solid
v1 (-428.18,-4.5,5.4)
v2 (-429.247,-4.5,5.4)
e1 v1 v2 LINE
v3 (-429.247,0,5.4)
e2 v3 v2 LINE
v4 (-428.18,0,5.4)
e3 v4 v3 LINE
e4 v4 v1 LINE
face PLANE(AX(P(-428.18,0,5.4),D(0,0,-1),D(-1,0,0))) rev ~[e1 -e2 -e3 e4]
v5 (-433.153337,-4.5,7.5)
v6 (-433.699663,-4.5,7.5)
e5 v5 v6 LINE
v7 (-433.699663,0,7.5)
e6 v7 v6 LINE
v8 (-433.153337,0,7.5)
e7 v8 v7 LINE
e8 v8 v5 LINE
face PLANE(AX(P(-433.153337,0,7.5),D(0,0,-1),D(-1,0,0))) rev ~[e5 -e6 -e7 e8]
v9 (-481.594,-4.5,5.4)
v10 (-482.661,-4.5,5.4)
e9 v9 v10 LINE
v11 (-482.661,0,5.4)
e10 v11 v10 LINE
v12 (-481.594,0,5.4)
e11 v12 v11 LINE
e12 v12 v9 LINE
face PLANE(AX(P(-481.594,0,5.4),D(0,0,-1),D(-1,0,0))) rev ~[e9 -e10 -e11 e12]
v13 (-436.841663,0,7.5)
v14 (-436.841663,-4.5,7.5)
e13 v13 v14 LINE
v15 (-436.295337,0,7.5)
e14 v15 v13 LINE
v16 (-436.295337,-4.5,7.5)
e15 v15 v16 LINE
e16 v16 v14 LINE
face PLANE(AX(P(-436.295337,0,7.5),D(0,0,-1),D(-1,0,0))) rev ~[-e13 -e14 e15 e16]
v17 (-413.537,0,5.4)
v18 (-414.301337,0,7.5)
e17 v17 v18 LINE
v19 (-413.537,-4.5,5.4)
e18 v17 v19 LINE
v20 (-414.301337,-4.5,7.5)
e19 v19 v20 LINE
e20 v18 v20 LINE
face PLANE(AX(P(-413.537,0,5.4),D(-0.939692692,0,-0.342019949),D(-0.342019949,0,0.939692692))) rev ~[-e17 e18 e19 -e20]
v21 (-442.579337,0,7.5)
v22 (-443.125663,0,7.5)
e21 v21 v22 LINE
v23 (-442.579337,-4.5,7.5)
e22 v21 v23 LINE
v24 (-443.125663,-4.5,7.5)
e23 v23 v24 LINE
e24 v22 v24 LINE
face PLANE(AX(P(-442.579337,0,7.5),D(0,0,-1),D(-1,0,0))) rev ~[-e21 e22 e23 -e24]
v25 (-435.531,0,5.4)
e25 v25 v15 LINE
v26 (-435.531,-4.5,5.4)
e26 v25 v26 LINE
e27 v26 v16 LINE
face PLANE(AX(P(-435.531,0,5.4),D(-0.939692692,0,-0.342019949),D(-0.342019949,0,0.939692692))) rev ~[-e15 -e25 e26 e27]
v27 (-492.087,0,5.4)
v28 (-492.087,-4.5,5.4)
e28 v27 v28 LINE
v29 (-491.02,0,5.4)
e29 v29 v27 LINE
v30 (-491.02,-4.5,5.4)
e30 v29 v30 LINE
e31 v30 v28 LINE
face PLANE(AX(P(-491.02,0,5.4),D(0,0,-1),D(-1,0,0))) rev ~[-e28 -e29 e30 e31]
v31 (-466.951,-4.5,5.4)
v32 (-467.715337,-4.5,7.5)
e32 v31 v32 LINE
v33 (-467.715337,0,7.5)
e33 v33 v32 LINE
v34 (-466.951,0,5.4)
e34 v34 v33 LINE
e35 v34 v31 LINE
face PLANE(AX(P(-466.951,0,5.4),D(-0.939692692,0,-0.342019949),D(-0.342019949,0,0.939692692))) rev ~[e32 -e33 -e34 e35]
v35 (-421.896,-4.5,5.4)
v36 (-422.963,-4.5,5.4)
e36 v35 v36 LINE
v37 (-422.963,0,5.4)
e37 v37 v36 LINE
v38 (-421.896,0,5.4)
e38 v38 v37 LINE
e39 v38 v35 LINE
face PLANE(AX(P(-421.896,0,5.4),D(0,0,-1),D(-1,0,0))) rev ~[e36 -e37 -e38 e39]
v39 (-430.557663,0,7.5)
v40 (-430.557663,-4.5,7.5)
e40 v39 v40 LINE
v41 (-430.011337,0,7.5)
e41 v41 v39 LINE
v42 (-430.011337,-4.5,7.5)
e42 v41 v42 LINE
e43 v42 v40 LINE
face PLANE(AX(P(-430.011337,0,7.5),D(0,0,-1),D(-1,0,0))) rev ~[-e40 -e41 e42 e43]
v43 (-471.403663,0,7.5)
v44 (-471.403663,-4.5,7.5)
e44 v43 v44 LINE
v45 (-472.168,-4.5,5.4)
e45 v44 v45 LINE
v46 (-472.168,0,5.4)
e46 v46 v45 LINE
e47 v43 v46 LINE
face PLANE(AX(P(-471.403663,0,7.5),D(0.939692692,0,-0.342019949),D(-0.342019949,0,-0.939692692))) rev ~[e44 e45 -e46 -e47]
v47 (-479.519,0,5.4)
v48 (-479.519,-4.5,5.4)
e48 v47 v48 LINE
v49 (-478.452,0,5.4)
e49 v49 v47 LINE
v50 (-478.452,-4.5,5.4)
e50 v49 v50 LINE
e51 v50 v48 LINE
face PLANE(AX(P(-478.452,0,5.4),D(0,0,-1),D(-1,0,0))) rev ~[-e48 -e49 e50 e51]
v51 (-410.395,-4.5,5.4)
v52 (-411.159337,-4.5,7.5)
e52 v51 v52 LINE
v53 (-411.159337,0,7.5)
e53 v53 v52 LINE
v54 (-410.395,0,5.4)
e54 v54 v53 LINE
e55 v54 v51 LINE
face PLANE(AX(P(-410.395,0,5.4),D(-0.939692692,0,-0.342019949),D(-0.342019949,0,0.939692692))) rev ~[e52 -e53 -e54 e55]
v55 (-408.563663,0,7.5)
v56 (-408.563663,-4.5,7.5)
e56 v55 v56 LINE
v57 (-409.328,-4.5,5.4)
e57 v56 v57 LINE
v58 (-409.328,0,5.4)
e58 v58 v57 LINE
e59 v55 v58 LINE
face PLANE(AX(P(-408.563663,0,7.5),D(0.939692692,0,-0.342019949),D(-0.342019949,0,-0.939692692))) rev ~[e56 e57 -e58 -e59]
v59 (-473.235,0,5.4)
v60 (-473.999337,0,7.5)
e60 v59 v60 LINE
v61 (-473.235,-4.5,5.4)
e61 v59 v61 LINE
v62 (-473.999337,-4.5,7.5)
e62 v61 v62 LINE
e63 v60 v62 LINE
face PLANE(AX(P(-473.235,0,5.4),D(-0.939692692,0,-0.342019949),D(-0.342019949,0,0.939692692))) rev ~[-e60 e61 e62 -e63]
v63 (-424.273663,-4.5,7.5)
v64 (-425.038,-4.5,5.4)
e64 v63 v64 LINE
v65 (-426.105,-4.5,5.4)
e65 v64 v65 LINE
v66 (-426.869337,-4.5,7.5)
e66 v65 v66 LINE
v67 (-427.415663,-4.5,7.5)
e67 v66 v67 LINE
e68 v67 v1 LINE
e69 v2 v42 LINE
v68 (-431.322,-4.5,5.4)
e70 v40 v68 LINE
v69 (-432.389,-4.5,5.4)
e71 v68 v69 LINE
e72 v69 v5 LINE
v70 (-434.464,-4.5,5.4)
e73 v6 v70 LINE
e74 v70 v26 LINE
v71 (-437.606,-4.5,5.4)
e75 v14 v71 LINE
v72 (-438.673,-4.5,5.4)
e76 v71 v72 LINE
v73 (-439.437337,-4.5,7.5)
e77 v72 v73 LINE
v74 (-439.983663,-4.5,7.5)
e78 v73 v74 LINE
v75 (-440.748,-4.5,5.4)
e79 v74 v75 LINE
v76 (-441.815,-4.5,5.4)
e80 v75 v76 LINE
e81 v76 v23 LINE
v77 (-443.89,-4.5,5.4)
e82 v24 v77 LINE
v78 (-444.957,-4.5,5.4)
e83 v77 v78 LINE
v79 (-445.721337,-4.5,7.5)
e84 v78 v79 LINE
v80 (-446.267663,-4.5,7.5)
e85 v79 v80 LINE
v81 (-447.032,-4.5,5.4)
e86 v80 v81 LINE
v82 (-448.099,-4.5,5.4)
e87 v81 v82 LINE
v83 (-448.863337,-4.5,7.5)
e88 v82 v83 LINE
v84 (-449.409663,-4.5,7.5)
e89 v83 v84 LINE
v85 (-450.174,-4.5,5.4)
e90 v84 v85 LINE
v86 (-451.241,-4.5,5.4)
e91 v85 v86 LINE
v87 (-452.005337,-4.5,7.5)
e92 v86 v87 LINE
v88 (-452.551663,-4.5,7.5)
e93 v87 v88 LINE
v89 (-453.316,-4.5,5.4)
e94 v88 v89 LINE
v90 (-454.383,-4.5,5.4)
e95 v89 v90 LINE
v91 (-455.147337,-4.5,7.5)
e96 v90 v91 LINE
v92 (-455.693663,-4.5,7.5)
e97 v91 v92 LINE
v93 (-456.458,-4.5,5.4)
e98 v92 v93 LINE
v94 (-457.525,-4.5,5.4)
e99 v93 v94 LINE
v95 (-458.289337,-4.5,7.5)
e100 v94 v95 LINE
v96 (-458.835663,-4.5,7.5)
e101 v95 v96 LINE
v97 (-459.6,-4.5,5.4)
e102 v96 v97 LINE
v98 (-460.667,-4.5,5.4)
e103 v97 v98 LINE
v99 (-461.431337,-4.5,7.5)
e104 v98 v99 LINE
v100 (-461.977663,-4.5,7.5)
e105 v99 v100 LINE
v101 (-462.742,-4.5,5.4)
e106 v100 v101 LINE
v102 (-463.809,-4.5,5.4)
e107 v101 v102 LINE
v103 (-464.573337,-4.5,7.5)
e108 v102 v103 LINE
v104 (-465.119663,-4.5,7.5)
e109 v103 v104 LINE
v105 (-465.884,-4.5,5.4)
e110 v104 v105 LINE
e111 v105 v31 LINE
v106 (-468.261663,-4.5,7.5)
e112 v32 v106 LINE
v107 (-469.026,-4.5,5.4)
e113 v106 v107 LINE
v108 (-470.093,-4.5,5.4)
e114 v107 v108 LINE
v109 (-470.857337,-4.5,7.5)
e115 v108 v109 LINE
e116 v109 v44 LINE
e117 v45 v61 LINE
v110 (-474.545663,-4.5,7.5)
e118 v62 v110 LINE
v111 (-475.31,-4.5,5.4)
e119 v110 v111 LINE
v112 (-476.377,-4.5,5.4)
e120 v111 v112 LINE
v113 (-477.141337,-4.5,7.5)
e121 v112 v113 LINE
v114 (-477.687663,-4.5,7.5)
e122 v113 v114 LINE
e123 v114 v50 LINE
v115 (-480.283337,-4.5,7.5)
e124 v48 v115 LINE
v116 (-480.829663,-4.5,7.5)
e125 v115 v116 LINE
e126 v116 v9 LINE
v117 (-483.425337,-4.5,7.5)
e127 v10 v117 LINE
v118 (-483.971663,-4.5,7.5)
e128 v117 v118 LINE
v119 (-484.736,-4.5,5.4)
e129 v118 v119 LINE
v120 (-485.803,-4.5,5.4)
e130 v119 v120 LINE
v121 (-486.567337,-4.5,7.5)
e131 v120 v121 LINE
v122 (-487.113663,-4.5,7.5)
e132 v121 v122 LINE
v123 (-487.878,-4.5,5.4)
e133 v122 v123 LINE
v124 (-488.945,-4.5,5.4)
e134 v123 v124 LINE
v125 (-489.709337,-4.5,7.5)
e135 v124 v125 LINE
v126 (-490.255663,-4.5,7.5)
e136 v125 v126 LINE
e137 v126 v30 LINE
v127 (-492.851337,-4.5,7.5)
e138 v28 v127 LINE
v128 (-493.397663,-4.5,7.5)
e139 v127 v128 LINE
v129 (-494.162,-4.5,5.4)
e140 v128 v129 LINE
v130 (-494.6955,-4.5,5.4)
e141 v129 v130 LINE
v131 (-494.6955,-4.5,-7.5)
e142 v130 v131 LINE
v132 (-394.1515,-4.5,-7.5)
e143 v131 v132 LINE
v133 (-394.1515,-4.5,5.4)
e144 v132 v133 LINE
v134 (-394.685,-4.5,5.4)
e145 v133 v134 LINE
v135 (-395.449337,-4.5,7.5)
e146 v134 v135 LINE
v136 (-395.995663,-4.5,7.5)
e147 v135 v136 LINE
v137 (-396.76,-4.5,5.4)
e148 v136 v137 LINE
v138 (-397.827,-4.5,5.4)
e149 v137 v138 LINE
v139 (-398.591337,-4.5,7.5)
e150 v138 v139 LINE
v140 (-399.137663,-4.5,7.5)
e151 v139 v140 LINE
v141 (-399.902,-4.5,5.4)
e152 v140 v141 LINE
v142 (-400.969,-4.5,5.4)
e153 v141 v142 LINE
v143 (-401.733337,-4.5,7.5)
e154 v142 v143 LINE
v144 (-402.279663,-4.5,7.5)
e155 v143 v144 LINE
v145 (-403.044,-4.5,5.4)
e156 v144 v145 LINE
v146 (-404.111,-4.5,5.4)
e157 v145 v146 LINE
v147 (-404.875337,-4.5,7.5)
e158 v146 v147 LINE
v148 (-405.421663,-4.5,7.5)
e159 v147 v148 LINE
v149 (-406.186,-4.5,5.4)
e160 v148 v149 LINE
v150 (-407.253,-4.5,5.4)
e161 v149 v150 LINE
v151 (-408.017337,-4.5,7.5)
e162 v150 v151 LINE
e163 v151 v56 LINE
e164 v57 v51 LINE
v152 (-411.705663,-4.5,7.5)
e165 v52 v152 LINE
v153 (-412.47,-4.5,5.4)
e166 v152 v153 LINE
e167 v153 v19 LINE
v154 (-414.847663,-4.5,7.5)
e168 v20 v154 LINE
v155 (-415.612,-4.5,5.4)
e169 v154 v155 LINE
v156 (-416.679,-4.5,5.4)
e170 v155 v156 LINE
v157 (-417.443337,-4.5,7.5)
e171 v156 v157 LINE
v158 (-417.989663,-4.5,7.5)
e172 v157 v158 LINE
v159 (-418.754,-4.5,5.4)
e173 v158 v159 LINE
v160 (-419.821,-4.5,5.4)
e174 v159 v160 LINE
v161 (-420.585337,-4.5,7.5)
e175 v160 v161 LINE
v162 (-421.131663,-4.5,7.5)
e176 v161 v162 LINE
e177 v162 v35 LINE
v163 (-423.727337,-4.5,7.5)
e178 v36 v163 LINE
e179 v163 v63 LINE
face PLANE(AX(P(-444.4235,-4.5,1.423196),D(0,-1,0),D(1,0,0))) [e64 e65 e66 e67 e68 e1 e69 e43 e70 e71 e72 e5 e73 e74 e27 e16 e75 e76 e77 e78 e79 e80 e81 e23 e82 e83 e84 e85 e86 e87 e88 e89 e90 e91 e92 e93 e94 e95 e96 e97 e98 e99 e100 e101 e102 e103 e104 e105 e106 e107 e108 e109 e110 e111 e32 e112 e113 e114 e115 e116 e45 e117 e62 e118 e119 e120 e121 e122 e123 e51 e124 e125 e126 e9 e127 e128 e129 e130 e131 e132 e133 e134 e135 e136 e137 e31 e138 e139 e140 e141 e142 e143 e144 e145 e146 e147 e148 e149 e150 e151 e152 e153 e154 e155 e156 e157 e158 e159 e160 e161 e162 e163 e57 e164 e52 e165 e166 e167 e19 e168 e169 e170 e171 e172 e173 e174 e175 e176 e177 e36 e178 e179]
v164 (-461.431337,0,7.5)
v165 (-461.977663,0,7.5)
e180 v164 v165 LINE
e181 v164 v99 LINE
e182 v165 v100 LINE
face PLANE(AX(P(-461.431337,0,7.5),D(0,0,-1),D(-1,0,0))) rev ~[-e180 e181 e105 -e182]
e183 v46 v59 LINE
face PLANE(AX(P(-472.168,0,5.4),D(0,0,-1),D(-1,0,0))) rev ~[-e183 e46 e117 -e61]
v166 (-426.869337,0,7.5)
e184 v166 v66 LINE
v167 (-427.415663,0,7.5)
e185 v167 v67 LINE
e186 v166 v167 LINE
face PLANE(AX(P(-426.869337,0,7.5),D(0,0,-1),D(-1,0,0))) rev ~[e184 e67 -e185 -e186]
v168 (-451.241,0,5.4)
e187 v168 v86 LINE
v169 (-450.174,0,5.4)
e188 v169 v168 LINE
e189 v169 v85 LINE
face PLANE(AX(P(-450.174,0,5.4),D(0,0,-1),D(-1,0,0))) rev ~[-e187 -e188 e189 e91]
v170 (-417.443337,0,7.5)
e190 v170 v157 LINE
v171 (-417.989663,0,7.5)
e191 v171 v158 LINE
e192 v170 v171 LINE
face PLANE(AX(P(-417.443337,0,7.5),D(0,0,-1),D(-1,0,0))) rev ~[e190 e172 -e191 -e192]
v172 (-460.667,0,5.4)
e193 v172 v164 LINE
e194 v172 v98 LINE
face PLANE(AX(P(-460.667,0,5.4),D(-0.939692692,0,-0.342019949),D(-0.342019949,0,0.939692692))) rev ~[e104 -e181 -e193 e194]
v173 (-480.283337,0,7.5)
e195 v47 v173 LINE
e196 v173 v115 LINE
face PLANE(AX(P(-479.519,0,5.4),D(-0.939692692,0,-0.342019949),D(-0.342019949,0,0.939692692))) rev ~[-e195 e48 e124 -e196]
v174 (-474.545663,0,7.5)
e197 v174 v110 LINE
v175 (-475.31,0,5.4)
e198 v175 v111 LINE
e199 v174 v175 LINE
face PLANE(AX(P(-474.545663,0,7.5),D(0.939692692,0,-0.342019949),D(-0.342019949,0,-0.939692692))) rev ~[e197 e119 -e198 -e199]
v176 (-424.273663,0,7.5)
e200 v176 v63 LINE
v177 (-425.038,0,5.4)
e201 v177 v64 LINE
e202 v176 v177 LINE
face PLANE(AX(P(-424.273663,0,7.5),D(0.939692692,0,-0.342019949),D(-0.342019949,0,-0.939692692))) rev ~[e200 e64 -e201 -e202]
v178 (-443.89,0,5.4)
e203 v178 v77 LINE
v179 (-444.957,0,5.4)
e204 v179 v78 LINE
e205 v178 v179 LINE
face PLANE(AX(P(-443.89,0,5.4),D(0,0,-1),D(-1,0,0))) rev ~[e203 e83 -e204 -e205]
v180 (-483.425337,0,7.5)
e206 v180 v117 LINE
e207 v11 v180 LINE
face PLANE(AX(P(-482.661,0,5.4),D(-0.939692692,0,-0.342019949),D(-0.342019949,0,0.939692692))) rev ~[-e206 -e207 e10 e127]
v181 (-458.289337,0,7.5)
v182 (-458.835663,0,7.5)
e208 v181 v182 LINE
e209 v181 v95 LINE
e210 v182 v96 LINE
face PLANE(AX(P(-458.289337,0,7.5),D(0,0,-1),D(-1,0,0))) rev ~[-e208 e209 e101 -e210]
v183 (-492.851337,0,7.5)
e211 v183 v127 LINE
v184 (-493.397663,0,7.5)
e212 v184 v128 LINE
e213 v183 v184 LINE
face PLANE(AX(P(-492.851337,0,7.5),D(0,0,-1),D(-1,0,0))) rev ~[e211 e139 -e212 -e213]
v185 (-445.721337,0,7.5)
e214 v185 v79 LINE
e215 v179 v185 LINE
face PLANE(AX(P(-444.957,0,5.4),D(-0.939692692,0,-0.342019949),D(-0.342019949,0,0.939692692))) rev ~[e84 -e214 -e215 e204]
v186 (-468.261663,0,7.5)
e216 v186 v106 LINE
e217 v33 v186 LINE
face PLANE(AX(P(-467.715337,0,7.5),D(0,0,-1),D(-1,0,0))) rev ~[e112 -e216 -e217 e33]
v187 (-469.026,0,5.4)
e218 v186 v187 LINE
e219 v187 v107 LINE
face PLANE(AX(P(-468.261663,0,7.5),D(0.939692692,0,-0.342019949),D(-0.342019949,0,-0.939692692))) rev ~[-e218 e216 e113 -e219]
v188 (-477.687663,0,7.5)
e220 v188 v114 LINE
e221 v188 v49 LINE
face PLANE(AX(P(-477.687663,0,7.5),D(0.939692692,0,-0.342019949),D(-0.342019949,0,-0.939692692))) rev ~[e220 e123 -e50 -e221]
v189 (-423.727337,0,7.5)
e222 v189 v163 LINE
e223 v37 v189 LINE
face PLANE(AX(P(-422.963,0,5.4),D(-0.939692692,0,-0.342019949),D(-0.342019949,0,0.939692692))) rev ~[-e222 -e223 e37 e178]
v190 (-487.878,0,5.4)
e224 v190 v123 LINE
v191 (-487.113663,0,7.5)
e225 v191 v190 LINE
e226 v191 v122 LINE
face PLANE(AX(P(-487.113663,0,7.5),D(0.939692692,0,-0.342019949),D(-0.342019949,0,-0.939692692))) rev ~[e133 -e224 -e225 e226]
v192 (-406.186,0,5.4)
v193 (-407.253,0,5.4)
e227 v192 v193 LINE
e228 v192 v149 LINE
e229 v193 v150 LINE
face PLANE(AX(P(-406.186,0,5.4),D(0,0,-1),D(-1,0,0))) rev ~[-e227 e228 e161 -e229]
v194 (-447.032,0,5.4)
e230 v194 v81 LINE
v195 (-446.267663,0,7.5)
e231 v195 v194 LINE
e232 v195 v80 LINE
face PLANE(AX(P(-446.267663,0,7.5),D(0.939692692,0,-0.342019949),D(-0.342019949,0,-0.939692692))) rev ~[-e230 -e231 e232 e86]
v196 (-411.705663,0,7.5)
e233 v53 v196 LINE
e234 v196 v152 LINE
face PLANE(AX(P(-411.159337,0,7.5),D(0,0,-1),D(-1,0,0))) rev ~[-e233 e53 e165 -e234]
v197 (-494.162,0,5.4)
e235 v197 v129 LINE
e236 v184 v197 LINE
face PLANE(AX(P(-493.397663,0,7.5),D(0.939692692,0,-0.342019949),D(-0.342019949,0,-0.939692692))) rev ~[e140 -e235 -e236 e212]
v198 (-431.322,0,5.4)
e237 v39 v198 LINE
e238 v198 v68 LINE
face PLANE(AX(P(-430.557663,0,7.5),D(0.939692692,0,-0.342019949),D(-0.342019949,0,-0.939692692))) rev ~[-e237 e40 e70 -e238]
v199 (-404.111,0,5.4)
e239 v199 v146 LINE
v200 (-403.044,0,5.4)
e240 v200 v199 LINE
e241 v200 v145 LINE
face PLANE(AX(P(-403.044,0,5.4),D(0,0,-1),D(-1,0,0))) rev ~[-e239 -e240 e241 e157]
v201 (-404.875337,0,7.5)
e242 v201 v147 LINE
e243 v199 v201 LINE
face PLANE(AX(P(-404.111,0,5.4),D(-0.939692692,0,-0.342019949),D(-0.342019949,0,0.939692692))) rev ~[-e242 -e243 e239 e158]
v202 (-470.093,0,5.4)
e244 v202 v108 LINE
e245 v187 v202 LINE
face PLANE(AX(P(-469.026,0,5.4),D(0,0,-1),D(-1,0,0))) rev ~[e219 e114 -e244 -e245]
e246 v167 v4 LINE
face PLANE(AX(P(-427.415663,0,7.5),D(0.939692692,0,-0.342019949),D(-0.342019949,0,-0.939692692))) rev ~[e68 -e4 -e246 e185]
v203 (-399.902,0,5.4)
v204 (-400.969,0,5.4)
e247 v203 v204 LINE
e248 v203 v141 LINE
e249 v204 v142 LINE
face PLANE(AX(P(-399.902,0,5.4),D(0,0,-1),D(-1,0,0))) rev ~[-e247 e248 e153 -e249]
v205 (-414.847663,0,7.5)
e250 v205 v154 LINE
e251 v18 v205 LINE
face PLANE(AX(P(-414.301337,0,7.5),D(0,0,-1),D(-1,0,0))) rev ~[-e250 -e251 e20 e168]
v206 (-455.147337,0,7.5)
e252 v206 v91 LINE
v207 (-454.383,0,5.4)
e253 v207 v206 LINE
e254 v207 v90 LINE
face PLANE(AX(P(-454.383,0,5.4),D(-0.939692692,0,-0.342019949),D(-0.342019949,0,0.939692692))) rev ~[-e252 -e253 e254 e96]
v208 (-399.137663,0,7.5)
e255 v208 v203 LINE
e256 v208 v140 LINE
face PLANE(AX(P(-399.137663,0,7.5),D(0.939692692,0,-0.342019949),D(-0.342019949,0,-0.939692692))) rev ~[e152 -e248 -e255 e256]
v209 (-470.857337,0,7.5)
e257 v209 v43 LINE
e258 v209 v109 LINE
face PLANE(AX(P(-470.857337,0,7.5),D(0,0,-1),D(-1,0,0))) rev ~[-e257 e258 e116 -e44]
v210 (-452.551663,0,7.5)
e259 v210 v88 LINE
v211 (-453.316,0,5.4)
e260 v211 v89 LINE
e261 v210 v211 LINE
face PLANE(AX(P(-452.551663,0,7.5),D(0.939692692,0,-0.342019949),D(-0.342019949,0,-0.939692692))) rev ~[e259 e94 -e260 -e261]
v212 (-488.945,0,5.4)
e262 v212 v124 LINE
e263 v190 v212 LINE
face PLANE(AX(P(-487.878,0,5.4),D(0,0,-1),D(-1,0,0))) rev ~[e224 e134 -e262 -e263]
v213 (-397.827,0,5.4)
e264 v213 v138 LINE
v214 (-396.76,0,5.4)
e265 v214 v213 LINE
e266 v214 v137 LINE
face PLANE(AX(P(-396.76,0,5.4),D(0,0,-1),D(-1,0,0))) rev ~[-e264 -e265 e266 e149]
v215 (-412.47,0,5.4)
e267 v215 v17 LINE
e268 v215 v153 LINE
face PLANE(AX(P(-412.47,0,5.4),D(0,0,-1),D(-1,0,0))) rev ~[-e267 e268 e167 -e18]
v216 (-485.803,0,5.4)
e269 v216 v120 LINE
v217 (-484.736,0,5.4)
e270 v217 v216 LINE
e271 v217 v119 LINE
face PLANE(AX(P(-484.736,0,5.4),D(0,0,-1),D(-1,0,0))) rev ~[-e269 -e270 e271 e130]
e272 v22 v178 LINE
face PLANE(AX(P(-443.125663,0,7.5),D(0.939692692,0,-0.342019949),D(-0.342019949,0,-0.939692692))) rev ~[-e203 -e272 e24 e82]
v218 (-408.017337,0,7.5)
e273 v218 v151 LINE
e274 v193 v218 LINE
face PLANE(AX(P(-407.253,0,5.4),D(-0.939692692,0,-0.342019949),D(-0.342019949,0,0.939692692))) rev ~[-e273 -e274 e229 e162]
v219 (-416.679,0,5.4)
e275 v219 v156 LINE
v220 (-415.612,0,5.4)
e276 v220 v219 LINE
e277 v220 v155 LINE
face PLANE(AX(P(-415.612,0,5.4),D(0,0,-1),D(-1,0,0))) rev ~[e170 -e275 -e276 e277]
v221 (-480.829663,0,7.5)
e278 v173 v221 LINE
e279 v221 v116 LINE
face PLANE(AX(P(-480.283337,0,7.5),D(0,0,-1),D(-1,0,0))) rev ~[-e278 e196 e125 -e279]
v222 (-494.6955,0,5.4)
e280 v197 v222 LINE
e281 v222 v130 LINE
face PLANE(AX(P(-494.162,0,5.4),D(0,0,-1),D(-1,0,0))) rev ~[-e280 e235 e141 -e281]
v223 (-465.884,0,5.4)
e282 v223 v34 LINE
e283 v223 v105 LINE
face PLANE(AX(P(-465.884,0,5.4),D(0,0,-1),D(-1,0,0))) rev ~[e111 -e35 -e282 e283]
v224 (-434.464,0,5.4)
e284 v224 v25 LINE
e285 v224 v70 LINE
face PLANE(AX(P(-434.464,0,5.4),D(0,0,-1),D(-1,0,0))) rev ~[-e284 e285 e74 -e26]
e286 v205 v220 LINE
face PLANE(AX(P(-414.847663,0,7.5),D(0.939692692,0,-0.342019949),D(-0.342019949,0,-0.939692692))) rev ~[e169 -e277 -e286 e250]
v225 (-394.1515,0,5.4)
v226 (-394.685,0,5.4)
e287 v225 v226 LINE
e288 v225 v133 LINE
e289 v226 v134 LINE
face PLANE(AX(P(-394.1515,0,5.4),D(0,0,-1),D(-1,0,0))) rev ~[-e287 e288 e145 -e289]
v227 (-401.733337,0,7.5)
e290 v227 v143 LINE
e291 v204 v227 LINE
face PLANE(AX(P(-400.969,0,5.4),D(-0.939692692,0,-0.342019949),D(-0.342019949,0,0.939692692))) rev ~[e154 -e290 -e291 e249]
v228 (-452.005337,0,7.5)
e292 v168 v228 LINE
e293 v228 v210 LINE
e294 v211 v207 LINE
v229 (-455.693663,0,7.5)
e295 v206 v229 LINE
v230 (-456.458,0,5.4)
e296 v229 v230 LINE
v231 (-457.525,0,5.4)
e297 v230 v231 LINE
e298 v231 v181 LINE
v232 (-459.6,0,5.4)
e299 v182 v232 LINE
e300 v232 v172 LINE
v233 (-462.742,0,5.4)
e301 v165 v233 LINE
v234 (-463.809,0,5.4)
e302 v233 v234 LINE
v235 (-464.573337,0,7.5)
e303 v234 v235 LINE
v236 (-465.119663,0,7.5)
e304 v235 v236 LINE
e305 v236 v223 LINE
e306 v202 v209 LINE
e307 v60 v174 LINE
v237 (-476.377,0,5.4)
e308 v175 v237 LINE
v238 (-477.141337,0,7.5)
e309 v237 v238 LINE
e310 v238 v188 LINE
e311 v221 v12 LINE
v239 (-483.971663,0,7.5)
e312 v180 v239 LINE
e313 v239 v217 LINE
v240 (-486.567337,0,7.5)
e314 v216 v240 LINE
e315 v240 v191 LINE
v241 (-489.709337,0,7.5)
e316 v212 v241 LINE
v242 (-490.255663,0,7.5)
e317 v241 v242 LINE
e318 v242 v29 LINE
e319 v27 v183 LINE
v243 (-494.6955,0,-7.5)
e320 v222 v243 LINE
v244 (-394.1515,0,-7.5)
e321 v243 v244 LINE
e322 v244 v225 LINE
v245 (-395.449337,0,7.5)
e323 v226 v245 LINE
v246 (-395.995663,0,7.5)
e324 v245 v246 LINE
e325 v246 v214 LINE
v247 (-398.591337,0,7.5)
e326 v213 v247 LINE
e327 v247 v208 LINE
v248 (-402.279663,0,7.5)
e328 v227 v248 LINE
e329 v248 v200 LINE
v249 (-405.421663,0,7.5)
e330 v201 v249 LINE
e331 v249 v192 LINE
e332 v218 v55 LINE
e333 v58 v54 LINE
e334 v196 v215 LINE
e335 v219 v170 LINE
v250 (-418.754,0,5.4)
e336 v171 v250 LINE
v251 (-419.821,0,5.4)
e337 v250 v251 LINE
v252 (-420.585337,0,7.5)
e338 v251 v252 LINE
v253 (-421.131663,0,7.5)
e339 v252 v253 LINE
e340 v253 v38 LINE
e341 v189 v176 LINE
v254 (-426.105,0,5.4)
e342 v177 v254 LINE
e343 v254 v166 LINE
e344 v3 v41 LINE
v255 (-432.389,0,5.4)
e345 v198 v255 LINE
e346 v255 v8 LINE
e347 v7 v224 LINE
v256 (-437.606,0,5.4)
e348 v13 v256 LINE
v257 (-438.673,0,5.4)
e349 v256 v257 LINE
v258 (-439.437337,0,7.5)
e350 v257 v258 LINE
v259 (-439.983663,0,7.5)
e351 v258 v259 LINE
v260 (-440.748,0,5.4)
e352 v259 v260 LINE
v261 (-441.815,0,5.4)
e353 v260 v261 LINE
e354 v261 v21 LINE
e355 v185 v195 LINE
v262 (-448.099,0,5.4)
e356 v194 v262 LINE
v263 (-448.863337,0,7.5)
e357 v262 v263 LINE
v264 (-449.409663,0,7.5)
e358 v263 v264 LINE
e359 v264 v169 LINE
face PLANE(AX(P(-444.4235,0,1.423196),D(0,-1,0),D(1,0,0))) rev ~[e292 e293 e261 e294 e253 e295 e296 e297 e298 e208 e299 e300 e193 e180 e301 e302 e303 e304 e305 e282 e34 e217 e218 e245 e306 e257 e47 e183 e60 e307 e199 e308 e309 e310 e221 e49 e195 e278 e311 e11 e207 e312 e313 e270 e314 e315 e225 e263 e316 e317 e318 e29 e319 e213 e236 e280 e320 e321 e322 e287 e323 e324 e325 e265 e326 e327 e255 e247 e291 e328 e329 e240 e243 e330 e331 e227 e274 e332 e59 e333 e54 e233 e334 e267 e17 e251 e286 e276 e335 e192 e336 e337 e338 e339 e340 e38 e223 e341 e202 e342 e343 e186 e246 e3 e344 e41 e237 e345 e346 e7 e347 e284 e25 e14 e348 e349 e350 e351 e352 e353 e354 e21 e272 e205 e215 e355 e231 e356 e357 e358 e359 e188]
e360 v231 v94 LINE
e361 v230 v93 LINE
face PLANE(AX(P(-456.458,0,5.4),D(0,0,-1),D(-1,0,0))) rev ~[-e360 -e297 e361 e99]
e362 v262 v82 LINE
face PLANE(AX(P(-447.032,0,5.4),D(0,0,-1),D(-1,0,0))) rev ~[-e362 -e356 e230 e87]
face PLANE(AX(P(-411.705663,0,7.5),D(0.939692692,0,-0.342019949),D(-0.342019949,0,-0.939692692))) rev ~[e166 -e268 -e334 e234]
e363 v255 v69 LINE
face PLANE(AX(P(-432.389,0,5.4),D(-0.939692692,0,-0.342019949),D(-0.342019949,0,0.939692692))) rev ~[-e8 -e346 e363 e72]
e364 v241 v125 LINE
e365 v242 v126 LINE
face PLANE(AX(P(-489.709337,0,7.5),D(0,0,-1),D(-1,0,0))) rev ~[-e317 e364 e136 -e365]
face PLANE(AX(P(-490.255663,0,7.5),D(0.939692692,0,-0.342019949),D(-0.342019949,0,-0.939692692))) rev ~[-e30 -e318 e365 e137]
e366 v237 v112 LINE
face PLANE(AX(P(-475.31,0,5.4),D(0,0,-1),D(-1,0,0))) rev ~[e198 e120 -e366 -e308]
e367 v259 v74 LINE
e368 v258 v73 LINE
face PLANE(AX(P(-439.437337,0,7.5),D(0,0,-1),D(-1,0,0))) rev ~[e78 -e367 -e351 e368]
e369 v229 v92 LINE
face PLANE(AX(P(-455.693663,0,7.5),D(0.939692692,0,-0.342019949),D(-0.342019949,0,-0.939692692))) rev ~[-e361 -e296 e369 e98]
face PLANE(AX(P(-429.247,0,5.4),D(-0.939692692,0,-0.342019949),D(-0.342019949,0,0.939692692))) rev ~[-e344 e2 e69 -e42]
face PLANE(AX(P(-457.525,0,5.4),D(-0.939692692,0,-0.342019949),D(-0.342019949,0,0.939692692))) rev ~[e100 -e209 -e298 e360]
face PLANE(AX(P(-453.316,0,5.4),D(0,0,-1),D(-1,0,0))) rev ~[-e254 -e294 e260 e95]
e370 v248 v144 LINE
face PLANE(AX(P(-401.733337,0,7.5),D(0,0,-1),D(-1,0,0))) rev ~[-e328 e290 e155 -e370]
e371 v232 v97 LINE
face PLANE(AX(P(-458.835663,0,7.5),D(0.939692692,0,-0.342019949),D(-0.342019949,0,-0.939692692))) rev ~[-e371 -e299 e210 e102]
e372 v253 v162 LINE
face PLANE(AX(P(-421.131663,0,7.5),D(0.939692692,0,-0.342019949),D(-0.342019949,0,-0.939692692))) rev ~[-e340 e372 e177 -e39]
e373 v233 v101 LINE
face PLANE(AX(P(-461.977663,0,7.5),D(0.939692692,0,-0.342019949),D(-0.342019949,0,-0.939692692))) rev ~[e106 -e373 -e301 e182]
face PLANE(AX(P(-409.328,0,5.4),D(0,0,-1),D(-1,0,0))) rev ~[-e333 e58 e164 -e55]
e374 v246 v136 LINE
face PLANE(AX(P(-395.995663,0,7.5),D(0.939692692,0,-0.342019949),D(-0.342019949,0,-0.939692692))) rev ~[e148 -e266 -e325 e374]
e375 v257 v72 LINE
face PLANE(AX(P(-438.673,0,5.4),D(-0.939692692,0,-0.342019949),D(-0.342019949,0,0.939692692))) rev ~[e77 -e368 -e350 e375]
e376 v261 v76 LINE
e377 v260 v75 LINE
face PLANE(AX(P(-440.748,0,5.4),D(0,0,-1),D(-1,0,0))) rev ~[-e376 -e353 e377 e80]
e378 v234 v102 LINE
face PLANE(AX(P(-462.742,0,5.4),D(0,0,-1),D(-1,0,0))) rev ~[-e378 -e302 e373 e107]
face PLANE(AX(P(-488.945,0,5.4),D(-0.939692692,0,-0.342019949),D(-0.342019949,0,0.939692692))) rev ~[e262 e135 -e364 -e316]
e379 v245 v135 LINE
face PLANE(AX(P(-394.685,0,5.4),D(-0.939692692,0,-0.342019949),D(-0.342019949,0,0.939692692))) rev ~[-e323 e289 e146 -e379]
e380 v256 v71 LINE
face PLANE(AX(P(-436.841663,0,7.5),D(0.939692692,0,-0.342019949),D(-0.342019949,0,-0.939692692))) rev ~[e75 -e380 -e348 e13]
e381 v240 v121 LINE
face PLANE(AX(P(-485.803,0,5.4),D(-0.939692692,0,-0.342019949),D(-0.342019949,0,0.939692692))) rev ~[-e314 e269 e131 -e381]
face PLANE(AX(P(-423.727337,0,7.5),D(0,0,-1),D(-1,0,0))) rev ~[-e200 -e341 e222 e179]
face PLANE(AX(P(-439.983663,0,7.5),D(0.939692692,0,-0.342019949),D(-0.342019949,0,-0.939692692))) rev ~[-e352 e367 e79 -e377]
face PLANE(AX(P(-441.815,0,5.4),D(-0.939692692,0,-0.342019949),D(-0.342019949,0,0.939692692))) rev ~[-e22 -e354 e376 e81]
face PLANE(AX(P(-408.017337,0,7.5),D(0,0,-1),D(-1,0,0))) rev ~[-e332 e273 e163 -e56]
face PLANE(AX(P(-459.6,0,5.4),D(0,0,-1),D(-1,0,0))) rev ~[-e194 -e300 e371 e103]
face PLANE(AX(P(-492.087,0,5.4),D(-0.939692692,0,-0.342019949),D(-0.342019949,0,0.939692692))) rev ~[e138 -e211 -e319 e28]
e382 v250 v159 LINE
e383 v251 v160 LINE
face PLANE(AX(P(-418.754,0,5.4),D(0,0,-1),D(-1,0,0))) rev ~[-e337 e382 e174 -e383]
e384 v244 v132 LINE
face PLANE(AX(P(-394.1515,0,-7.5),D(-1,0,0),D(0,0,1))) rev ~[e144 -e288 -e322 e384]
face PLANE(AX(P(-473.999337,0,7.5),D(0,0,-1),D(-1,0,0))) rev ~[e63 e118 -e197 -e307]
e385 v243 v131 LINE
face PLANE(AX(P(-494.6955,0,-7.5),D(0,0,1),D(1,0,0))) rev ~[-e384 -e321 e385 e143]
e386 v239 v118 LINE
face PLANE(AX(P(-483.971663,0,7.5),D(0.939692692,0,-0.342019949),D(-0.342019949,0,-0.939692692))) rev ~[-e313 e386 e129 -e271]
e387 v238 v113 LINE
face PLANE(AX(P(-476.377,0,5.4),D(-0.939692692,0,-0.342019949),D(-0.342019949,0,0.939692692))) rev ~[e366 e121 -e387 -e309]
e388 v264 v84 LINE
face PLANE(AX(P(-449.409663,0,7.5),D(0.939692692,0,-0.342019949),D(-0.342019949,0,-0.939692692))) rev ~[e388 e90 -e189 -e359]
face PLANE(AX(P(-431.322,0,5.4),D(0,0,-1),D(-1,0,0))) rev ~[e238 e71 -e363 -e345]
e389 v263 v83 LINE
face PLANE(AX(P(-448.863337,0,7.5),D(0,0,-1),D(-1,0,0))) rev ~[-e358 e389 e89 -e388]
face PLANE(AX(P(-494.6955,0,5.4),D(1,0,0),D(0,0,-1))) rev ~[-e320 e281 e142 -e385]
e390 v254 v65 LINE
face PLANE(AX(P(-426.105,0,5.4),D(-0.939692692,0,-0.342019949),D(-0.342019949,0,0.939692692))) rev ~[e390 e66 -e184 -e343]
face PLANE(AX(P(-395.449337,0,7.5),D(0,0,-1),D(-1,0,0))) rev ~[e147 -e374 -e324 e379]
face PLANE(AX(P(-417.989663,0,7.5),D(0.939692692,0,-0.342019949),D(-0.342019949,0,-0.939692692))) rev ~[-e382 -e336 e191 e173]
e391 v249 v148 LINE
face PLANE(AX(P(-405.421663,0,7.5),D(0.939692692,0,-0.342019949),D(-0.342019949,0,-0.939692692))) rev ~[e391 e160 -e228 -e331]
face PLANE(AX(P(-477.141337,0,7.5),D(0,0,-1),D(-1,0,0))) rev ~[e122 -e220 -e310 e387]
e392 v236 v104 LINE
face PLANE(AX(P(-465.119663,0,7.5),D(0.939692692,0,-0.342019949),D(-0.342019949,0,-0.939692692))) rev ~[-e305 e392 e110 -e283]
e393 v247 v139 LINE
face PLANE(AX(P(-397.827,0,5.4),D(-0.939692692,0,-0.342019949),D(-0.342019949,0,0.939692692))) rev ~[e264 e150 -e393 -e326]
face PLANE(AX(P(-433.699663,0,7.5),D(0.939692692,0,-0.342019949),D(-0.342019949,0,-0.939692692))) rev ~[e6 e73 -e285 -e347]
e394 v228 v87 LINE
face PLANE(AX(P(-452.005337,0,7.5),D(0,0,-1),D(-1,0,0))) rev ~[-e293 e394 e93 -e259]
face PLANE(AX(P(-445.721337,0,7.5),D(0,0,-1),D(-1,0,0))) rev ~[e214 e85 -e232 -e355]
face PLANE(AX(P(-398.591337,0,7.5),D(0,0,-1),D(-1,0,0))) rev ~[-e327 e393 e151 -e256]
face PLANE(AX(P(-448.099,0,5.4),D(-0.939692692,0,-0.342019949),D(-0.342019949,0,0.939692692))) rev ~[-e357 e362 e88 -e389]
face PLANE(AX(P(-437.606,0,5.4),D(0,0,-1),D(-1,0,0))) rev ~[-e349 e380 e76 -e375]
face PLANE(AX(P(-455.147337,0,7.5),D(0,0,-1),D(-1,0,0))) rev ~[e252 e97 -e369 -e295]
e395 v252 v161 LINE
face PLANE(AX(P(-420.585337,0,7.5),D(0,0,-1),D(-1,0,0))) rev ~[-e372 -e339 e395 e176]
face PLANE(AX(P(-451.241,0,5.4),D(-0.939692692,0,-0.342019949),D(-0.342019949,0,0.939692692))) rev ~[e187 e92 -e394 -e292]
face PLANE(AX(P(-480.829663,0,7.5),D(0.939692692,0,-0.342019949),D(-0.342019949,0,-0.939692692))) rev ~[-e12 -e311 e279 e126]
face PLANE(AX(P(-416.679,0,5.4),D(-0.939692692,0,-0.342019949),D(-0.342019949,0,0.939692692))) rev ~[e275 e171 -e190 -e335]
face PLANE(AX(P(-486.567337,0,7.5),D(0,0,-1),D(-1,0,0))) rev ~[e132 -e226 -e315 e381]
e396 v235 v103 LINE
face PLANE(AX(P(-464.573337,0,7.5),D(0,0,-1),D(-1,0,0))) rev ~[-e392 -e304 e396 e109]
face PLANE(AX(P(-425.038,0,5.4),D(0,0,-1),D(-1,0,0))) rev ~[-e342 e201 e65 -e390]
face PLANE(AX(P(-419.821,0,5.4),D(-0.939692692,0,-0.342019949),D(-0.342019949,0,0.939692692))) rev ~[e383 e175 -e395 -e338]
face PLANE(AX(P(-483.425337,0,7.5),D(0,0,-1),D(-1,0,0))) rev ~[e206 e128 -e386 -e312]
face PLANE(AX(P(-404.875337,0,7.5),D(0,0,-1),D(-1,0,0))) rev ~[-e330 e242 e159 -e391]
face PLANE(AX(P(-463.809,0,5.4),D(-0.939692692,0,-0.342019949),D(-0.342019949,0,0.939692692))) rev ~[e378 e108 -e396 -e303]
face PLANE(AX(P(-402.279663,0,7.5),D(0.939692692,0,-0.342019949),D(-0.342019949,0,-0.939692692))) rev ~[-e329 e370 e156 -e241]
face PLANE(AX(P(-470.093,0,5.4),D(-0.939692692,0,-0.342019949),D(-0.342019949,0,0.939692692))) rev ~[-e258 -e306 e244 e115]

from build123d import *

# Parameters (mm, degrees)
F1_DEPTH = 4.5


with BuildPart() as f1:
    # F0 (on Front) → F1 (new body)
    with BuildSketch(Plane.XZ):
        Polygon((-494.6955, -7.5), (-394.1515, -7.5), (-394.1515, 5.4), (-394.685, 5.4), (-395.449337, 7.5), (-395.995663, 7.5), (-396.76, 5.4), (-397.827, 5.4), (-398.591337, 7.5), (-399.137663, 7.5), (-399.902, 5.4), (-400.969, 5.4), (-401.733337, 7.5), (-402.279663, 7.5), (-403.044, 5.4), (-404.111, 5.4), (-404.875337, 7.5), (-405.421663, 7.5), (-406.186, 5.4), (-407.253, 5.4), (-408.017337, 7.5), (-408.563663, 7.5), (-409.328, 5.4), (-410.395, 5.4), (-411.159337, 7.5), (-411.705663, 7.5), (-412.47, 5.4), (-413.537, 5.4), (-414.301337, 7.5), (-414.847663, 7.5), (-415.612, 5.4), (-416.679, 5.4), (-417.443337, 7.5), (-417.989663, 7.5), (-418.754, 5.4), (-419.821, 5.4), (-420.585337, 7.5), (-421.131663, 7.5), (-421.896, 5.4), (-422.963, 5.4), (-423.727337, 7.5), (-424.273663, 7.5), (-425.038, 5.4), (-426.105, 5.4), (-426.869337, 7.5), (-427.415663, 7.5), (-428.18, 5.4), (-429.247, 5.4), (-430.011337, 7.5), (-430.557663, 7.5), (-431.322, 5.4), (-432.389, 5.4), (-433.153337, 7.5), (-433.699663, 7.5), (-434.464, 5.4), (-435.531, 5.4), (-436.295337, 7.5), (-436.841663, 7.5), (-437.606, 5.4), (-438.673, 5.4), (-439.437337, 7.5), (-439.983663, 7.5), (-440.748, 5.4), (-441.815, 5.4), (-442.579337, 7.5), (-443.125663, 7.5), (-443.89, 5.4), (-444.957, 5.4), (-445.721337, 7.5), (-446.267663, 7.5), (-447.032, 5.4), (-448.099, 5.4), (-448.863337, 7.5), (-449.409663, 7.5), (-450.174, 5.4), (-451.241, 5.4), (-452.005337, 7.5), (-452.551663, 7.5), (-453.316, 5.4), (-454.383, 5.4), (-455.147337, 7.5), (-455.693663, 7.5), (-456.458, 5.4), (-457.525, 5.4), (-458.289337, 7.5), (-458.835663, 7.5), (-459.6, 5.4), (-460.667, 5.4), (-461.431337, 7.5), (-461.977663, 7.5), (-462.742, 5.4), (-463.809, 5.4), (-464.573337, 7.5), (-465.119663, 7.5), (-465.884, 5.4), (-466.951, 5.4), (-467.715337, 7.5), (-468.261663, 7.5), (-469.026, 5.4), (-470.093, 5.4), (-470.857337, 7.5), (-471.403663, 7.5), (-472.168, 5.4), (-473.235, 5.4), (-473.999337, 7.5), (-474.545663, 7.5), (-475.31, 5.4), (-476.377, 5.4), (-477.141337, 7.5), (-477.687663, 7.5), (-478.452, 5.4), (-479.519, 5.4), (-480.283337, 7.5), (-480.829663, 7.5), (-481.594, 5.4), (-482.661, 5.4), (-483.425337, 7.5), (-483.971663, 7.5), (-484.736, 5.4), (-485.803, 5.4), (-486.567337, 7.5), (-487.113663, 7.5), (-487.878, 5.4), (-488.945, 5.4), (-489.709337, 7.5), (-490.255663, 7.5), (-491.02, 5.4), (-492.087, 5.4), (-492.851337, 7.5), (-493.397663, 7.5), (-494.162, 5.4), (-494.6955, 5.4), align=None)
    extrude(amount=F1_DEPTH)


solid = f1.part
